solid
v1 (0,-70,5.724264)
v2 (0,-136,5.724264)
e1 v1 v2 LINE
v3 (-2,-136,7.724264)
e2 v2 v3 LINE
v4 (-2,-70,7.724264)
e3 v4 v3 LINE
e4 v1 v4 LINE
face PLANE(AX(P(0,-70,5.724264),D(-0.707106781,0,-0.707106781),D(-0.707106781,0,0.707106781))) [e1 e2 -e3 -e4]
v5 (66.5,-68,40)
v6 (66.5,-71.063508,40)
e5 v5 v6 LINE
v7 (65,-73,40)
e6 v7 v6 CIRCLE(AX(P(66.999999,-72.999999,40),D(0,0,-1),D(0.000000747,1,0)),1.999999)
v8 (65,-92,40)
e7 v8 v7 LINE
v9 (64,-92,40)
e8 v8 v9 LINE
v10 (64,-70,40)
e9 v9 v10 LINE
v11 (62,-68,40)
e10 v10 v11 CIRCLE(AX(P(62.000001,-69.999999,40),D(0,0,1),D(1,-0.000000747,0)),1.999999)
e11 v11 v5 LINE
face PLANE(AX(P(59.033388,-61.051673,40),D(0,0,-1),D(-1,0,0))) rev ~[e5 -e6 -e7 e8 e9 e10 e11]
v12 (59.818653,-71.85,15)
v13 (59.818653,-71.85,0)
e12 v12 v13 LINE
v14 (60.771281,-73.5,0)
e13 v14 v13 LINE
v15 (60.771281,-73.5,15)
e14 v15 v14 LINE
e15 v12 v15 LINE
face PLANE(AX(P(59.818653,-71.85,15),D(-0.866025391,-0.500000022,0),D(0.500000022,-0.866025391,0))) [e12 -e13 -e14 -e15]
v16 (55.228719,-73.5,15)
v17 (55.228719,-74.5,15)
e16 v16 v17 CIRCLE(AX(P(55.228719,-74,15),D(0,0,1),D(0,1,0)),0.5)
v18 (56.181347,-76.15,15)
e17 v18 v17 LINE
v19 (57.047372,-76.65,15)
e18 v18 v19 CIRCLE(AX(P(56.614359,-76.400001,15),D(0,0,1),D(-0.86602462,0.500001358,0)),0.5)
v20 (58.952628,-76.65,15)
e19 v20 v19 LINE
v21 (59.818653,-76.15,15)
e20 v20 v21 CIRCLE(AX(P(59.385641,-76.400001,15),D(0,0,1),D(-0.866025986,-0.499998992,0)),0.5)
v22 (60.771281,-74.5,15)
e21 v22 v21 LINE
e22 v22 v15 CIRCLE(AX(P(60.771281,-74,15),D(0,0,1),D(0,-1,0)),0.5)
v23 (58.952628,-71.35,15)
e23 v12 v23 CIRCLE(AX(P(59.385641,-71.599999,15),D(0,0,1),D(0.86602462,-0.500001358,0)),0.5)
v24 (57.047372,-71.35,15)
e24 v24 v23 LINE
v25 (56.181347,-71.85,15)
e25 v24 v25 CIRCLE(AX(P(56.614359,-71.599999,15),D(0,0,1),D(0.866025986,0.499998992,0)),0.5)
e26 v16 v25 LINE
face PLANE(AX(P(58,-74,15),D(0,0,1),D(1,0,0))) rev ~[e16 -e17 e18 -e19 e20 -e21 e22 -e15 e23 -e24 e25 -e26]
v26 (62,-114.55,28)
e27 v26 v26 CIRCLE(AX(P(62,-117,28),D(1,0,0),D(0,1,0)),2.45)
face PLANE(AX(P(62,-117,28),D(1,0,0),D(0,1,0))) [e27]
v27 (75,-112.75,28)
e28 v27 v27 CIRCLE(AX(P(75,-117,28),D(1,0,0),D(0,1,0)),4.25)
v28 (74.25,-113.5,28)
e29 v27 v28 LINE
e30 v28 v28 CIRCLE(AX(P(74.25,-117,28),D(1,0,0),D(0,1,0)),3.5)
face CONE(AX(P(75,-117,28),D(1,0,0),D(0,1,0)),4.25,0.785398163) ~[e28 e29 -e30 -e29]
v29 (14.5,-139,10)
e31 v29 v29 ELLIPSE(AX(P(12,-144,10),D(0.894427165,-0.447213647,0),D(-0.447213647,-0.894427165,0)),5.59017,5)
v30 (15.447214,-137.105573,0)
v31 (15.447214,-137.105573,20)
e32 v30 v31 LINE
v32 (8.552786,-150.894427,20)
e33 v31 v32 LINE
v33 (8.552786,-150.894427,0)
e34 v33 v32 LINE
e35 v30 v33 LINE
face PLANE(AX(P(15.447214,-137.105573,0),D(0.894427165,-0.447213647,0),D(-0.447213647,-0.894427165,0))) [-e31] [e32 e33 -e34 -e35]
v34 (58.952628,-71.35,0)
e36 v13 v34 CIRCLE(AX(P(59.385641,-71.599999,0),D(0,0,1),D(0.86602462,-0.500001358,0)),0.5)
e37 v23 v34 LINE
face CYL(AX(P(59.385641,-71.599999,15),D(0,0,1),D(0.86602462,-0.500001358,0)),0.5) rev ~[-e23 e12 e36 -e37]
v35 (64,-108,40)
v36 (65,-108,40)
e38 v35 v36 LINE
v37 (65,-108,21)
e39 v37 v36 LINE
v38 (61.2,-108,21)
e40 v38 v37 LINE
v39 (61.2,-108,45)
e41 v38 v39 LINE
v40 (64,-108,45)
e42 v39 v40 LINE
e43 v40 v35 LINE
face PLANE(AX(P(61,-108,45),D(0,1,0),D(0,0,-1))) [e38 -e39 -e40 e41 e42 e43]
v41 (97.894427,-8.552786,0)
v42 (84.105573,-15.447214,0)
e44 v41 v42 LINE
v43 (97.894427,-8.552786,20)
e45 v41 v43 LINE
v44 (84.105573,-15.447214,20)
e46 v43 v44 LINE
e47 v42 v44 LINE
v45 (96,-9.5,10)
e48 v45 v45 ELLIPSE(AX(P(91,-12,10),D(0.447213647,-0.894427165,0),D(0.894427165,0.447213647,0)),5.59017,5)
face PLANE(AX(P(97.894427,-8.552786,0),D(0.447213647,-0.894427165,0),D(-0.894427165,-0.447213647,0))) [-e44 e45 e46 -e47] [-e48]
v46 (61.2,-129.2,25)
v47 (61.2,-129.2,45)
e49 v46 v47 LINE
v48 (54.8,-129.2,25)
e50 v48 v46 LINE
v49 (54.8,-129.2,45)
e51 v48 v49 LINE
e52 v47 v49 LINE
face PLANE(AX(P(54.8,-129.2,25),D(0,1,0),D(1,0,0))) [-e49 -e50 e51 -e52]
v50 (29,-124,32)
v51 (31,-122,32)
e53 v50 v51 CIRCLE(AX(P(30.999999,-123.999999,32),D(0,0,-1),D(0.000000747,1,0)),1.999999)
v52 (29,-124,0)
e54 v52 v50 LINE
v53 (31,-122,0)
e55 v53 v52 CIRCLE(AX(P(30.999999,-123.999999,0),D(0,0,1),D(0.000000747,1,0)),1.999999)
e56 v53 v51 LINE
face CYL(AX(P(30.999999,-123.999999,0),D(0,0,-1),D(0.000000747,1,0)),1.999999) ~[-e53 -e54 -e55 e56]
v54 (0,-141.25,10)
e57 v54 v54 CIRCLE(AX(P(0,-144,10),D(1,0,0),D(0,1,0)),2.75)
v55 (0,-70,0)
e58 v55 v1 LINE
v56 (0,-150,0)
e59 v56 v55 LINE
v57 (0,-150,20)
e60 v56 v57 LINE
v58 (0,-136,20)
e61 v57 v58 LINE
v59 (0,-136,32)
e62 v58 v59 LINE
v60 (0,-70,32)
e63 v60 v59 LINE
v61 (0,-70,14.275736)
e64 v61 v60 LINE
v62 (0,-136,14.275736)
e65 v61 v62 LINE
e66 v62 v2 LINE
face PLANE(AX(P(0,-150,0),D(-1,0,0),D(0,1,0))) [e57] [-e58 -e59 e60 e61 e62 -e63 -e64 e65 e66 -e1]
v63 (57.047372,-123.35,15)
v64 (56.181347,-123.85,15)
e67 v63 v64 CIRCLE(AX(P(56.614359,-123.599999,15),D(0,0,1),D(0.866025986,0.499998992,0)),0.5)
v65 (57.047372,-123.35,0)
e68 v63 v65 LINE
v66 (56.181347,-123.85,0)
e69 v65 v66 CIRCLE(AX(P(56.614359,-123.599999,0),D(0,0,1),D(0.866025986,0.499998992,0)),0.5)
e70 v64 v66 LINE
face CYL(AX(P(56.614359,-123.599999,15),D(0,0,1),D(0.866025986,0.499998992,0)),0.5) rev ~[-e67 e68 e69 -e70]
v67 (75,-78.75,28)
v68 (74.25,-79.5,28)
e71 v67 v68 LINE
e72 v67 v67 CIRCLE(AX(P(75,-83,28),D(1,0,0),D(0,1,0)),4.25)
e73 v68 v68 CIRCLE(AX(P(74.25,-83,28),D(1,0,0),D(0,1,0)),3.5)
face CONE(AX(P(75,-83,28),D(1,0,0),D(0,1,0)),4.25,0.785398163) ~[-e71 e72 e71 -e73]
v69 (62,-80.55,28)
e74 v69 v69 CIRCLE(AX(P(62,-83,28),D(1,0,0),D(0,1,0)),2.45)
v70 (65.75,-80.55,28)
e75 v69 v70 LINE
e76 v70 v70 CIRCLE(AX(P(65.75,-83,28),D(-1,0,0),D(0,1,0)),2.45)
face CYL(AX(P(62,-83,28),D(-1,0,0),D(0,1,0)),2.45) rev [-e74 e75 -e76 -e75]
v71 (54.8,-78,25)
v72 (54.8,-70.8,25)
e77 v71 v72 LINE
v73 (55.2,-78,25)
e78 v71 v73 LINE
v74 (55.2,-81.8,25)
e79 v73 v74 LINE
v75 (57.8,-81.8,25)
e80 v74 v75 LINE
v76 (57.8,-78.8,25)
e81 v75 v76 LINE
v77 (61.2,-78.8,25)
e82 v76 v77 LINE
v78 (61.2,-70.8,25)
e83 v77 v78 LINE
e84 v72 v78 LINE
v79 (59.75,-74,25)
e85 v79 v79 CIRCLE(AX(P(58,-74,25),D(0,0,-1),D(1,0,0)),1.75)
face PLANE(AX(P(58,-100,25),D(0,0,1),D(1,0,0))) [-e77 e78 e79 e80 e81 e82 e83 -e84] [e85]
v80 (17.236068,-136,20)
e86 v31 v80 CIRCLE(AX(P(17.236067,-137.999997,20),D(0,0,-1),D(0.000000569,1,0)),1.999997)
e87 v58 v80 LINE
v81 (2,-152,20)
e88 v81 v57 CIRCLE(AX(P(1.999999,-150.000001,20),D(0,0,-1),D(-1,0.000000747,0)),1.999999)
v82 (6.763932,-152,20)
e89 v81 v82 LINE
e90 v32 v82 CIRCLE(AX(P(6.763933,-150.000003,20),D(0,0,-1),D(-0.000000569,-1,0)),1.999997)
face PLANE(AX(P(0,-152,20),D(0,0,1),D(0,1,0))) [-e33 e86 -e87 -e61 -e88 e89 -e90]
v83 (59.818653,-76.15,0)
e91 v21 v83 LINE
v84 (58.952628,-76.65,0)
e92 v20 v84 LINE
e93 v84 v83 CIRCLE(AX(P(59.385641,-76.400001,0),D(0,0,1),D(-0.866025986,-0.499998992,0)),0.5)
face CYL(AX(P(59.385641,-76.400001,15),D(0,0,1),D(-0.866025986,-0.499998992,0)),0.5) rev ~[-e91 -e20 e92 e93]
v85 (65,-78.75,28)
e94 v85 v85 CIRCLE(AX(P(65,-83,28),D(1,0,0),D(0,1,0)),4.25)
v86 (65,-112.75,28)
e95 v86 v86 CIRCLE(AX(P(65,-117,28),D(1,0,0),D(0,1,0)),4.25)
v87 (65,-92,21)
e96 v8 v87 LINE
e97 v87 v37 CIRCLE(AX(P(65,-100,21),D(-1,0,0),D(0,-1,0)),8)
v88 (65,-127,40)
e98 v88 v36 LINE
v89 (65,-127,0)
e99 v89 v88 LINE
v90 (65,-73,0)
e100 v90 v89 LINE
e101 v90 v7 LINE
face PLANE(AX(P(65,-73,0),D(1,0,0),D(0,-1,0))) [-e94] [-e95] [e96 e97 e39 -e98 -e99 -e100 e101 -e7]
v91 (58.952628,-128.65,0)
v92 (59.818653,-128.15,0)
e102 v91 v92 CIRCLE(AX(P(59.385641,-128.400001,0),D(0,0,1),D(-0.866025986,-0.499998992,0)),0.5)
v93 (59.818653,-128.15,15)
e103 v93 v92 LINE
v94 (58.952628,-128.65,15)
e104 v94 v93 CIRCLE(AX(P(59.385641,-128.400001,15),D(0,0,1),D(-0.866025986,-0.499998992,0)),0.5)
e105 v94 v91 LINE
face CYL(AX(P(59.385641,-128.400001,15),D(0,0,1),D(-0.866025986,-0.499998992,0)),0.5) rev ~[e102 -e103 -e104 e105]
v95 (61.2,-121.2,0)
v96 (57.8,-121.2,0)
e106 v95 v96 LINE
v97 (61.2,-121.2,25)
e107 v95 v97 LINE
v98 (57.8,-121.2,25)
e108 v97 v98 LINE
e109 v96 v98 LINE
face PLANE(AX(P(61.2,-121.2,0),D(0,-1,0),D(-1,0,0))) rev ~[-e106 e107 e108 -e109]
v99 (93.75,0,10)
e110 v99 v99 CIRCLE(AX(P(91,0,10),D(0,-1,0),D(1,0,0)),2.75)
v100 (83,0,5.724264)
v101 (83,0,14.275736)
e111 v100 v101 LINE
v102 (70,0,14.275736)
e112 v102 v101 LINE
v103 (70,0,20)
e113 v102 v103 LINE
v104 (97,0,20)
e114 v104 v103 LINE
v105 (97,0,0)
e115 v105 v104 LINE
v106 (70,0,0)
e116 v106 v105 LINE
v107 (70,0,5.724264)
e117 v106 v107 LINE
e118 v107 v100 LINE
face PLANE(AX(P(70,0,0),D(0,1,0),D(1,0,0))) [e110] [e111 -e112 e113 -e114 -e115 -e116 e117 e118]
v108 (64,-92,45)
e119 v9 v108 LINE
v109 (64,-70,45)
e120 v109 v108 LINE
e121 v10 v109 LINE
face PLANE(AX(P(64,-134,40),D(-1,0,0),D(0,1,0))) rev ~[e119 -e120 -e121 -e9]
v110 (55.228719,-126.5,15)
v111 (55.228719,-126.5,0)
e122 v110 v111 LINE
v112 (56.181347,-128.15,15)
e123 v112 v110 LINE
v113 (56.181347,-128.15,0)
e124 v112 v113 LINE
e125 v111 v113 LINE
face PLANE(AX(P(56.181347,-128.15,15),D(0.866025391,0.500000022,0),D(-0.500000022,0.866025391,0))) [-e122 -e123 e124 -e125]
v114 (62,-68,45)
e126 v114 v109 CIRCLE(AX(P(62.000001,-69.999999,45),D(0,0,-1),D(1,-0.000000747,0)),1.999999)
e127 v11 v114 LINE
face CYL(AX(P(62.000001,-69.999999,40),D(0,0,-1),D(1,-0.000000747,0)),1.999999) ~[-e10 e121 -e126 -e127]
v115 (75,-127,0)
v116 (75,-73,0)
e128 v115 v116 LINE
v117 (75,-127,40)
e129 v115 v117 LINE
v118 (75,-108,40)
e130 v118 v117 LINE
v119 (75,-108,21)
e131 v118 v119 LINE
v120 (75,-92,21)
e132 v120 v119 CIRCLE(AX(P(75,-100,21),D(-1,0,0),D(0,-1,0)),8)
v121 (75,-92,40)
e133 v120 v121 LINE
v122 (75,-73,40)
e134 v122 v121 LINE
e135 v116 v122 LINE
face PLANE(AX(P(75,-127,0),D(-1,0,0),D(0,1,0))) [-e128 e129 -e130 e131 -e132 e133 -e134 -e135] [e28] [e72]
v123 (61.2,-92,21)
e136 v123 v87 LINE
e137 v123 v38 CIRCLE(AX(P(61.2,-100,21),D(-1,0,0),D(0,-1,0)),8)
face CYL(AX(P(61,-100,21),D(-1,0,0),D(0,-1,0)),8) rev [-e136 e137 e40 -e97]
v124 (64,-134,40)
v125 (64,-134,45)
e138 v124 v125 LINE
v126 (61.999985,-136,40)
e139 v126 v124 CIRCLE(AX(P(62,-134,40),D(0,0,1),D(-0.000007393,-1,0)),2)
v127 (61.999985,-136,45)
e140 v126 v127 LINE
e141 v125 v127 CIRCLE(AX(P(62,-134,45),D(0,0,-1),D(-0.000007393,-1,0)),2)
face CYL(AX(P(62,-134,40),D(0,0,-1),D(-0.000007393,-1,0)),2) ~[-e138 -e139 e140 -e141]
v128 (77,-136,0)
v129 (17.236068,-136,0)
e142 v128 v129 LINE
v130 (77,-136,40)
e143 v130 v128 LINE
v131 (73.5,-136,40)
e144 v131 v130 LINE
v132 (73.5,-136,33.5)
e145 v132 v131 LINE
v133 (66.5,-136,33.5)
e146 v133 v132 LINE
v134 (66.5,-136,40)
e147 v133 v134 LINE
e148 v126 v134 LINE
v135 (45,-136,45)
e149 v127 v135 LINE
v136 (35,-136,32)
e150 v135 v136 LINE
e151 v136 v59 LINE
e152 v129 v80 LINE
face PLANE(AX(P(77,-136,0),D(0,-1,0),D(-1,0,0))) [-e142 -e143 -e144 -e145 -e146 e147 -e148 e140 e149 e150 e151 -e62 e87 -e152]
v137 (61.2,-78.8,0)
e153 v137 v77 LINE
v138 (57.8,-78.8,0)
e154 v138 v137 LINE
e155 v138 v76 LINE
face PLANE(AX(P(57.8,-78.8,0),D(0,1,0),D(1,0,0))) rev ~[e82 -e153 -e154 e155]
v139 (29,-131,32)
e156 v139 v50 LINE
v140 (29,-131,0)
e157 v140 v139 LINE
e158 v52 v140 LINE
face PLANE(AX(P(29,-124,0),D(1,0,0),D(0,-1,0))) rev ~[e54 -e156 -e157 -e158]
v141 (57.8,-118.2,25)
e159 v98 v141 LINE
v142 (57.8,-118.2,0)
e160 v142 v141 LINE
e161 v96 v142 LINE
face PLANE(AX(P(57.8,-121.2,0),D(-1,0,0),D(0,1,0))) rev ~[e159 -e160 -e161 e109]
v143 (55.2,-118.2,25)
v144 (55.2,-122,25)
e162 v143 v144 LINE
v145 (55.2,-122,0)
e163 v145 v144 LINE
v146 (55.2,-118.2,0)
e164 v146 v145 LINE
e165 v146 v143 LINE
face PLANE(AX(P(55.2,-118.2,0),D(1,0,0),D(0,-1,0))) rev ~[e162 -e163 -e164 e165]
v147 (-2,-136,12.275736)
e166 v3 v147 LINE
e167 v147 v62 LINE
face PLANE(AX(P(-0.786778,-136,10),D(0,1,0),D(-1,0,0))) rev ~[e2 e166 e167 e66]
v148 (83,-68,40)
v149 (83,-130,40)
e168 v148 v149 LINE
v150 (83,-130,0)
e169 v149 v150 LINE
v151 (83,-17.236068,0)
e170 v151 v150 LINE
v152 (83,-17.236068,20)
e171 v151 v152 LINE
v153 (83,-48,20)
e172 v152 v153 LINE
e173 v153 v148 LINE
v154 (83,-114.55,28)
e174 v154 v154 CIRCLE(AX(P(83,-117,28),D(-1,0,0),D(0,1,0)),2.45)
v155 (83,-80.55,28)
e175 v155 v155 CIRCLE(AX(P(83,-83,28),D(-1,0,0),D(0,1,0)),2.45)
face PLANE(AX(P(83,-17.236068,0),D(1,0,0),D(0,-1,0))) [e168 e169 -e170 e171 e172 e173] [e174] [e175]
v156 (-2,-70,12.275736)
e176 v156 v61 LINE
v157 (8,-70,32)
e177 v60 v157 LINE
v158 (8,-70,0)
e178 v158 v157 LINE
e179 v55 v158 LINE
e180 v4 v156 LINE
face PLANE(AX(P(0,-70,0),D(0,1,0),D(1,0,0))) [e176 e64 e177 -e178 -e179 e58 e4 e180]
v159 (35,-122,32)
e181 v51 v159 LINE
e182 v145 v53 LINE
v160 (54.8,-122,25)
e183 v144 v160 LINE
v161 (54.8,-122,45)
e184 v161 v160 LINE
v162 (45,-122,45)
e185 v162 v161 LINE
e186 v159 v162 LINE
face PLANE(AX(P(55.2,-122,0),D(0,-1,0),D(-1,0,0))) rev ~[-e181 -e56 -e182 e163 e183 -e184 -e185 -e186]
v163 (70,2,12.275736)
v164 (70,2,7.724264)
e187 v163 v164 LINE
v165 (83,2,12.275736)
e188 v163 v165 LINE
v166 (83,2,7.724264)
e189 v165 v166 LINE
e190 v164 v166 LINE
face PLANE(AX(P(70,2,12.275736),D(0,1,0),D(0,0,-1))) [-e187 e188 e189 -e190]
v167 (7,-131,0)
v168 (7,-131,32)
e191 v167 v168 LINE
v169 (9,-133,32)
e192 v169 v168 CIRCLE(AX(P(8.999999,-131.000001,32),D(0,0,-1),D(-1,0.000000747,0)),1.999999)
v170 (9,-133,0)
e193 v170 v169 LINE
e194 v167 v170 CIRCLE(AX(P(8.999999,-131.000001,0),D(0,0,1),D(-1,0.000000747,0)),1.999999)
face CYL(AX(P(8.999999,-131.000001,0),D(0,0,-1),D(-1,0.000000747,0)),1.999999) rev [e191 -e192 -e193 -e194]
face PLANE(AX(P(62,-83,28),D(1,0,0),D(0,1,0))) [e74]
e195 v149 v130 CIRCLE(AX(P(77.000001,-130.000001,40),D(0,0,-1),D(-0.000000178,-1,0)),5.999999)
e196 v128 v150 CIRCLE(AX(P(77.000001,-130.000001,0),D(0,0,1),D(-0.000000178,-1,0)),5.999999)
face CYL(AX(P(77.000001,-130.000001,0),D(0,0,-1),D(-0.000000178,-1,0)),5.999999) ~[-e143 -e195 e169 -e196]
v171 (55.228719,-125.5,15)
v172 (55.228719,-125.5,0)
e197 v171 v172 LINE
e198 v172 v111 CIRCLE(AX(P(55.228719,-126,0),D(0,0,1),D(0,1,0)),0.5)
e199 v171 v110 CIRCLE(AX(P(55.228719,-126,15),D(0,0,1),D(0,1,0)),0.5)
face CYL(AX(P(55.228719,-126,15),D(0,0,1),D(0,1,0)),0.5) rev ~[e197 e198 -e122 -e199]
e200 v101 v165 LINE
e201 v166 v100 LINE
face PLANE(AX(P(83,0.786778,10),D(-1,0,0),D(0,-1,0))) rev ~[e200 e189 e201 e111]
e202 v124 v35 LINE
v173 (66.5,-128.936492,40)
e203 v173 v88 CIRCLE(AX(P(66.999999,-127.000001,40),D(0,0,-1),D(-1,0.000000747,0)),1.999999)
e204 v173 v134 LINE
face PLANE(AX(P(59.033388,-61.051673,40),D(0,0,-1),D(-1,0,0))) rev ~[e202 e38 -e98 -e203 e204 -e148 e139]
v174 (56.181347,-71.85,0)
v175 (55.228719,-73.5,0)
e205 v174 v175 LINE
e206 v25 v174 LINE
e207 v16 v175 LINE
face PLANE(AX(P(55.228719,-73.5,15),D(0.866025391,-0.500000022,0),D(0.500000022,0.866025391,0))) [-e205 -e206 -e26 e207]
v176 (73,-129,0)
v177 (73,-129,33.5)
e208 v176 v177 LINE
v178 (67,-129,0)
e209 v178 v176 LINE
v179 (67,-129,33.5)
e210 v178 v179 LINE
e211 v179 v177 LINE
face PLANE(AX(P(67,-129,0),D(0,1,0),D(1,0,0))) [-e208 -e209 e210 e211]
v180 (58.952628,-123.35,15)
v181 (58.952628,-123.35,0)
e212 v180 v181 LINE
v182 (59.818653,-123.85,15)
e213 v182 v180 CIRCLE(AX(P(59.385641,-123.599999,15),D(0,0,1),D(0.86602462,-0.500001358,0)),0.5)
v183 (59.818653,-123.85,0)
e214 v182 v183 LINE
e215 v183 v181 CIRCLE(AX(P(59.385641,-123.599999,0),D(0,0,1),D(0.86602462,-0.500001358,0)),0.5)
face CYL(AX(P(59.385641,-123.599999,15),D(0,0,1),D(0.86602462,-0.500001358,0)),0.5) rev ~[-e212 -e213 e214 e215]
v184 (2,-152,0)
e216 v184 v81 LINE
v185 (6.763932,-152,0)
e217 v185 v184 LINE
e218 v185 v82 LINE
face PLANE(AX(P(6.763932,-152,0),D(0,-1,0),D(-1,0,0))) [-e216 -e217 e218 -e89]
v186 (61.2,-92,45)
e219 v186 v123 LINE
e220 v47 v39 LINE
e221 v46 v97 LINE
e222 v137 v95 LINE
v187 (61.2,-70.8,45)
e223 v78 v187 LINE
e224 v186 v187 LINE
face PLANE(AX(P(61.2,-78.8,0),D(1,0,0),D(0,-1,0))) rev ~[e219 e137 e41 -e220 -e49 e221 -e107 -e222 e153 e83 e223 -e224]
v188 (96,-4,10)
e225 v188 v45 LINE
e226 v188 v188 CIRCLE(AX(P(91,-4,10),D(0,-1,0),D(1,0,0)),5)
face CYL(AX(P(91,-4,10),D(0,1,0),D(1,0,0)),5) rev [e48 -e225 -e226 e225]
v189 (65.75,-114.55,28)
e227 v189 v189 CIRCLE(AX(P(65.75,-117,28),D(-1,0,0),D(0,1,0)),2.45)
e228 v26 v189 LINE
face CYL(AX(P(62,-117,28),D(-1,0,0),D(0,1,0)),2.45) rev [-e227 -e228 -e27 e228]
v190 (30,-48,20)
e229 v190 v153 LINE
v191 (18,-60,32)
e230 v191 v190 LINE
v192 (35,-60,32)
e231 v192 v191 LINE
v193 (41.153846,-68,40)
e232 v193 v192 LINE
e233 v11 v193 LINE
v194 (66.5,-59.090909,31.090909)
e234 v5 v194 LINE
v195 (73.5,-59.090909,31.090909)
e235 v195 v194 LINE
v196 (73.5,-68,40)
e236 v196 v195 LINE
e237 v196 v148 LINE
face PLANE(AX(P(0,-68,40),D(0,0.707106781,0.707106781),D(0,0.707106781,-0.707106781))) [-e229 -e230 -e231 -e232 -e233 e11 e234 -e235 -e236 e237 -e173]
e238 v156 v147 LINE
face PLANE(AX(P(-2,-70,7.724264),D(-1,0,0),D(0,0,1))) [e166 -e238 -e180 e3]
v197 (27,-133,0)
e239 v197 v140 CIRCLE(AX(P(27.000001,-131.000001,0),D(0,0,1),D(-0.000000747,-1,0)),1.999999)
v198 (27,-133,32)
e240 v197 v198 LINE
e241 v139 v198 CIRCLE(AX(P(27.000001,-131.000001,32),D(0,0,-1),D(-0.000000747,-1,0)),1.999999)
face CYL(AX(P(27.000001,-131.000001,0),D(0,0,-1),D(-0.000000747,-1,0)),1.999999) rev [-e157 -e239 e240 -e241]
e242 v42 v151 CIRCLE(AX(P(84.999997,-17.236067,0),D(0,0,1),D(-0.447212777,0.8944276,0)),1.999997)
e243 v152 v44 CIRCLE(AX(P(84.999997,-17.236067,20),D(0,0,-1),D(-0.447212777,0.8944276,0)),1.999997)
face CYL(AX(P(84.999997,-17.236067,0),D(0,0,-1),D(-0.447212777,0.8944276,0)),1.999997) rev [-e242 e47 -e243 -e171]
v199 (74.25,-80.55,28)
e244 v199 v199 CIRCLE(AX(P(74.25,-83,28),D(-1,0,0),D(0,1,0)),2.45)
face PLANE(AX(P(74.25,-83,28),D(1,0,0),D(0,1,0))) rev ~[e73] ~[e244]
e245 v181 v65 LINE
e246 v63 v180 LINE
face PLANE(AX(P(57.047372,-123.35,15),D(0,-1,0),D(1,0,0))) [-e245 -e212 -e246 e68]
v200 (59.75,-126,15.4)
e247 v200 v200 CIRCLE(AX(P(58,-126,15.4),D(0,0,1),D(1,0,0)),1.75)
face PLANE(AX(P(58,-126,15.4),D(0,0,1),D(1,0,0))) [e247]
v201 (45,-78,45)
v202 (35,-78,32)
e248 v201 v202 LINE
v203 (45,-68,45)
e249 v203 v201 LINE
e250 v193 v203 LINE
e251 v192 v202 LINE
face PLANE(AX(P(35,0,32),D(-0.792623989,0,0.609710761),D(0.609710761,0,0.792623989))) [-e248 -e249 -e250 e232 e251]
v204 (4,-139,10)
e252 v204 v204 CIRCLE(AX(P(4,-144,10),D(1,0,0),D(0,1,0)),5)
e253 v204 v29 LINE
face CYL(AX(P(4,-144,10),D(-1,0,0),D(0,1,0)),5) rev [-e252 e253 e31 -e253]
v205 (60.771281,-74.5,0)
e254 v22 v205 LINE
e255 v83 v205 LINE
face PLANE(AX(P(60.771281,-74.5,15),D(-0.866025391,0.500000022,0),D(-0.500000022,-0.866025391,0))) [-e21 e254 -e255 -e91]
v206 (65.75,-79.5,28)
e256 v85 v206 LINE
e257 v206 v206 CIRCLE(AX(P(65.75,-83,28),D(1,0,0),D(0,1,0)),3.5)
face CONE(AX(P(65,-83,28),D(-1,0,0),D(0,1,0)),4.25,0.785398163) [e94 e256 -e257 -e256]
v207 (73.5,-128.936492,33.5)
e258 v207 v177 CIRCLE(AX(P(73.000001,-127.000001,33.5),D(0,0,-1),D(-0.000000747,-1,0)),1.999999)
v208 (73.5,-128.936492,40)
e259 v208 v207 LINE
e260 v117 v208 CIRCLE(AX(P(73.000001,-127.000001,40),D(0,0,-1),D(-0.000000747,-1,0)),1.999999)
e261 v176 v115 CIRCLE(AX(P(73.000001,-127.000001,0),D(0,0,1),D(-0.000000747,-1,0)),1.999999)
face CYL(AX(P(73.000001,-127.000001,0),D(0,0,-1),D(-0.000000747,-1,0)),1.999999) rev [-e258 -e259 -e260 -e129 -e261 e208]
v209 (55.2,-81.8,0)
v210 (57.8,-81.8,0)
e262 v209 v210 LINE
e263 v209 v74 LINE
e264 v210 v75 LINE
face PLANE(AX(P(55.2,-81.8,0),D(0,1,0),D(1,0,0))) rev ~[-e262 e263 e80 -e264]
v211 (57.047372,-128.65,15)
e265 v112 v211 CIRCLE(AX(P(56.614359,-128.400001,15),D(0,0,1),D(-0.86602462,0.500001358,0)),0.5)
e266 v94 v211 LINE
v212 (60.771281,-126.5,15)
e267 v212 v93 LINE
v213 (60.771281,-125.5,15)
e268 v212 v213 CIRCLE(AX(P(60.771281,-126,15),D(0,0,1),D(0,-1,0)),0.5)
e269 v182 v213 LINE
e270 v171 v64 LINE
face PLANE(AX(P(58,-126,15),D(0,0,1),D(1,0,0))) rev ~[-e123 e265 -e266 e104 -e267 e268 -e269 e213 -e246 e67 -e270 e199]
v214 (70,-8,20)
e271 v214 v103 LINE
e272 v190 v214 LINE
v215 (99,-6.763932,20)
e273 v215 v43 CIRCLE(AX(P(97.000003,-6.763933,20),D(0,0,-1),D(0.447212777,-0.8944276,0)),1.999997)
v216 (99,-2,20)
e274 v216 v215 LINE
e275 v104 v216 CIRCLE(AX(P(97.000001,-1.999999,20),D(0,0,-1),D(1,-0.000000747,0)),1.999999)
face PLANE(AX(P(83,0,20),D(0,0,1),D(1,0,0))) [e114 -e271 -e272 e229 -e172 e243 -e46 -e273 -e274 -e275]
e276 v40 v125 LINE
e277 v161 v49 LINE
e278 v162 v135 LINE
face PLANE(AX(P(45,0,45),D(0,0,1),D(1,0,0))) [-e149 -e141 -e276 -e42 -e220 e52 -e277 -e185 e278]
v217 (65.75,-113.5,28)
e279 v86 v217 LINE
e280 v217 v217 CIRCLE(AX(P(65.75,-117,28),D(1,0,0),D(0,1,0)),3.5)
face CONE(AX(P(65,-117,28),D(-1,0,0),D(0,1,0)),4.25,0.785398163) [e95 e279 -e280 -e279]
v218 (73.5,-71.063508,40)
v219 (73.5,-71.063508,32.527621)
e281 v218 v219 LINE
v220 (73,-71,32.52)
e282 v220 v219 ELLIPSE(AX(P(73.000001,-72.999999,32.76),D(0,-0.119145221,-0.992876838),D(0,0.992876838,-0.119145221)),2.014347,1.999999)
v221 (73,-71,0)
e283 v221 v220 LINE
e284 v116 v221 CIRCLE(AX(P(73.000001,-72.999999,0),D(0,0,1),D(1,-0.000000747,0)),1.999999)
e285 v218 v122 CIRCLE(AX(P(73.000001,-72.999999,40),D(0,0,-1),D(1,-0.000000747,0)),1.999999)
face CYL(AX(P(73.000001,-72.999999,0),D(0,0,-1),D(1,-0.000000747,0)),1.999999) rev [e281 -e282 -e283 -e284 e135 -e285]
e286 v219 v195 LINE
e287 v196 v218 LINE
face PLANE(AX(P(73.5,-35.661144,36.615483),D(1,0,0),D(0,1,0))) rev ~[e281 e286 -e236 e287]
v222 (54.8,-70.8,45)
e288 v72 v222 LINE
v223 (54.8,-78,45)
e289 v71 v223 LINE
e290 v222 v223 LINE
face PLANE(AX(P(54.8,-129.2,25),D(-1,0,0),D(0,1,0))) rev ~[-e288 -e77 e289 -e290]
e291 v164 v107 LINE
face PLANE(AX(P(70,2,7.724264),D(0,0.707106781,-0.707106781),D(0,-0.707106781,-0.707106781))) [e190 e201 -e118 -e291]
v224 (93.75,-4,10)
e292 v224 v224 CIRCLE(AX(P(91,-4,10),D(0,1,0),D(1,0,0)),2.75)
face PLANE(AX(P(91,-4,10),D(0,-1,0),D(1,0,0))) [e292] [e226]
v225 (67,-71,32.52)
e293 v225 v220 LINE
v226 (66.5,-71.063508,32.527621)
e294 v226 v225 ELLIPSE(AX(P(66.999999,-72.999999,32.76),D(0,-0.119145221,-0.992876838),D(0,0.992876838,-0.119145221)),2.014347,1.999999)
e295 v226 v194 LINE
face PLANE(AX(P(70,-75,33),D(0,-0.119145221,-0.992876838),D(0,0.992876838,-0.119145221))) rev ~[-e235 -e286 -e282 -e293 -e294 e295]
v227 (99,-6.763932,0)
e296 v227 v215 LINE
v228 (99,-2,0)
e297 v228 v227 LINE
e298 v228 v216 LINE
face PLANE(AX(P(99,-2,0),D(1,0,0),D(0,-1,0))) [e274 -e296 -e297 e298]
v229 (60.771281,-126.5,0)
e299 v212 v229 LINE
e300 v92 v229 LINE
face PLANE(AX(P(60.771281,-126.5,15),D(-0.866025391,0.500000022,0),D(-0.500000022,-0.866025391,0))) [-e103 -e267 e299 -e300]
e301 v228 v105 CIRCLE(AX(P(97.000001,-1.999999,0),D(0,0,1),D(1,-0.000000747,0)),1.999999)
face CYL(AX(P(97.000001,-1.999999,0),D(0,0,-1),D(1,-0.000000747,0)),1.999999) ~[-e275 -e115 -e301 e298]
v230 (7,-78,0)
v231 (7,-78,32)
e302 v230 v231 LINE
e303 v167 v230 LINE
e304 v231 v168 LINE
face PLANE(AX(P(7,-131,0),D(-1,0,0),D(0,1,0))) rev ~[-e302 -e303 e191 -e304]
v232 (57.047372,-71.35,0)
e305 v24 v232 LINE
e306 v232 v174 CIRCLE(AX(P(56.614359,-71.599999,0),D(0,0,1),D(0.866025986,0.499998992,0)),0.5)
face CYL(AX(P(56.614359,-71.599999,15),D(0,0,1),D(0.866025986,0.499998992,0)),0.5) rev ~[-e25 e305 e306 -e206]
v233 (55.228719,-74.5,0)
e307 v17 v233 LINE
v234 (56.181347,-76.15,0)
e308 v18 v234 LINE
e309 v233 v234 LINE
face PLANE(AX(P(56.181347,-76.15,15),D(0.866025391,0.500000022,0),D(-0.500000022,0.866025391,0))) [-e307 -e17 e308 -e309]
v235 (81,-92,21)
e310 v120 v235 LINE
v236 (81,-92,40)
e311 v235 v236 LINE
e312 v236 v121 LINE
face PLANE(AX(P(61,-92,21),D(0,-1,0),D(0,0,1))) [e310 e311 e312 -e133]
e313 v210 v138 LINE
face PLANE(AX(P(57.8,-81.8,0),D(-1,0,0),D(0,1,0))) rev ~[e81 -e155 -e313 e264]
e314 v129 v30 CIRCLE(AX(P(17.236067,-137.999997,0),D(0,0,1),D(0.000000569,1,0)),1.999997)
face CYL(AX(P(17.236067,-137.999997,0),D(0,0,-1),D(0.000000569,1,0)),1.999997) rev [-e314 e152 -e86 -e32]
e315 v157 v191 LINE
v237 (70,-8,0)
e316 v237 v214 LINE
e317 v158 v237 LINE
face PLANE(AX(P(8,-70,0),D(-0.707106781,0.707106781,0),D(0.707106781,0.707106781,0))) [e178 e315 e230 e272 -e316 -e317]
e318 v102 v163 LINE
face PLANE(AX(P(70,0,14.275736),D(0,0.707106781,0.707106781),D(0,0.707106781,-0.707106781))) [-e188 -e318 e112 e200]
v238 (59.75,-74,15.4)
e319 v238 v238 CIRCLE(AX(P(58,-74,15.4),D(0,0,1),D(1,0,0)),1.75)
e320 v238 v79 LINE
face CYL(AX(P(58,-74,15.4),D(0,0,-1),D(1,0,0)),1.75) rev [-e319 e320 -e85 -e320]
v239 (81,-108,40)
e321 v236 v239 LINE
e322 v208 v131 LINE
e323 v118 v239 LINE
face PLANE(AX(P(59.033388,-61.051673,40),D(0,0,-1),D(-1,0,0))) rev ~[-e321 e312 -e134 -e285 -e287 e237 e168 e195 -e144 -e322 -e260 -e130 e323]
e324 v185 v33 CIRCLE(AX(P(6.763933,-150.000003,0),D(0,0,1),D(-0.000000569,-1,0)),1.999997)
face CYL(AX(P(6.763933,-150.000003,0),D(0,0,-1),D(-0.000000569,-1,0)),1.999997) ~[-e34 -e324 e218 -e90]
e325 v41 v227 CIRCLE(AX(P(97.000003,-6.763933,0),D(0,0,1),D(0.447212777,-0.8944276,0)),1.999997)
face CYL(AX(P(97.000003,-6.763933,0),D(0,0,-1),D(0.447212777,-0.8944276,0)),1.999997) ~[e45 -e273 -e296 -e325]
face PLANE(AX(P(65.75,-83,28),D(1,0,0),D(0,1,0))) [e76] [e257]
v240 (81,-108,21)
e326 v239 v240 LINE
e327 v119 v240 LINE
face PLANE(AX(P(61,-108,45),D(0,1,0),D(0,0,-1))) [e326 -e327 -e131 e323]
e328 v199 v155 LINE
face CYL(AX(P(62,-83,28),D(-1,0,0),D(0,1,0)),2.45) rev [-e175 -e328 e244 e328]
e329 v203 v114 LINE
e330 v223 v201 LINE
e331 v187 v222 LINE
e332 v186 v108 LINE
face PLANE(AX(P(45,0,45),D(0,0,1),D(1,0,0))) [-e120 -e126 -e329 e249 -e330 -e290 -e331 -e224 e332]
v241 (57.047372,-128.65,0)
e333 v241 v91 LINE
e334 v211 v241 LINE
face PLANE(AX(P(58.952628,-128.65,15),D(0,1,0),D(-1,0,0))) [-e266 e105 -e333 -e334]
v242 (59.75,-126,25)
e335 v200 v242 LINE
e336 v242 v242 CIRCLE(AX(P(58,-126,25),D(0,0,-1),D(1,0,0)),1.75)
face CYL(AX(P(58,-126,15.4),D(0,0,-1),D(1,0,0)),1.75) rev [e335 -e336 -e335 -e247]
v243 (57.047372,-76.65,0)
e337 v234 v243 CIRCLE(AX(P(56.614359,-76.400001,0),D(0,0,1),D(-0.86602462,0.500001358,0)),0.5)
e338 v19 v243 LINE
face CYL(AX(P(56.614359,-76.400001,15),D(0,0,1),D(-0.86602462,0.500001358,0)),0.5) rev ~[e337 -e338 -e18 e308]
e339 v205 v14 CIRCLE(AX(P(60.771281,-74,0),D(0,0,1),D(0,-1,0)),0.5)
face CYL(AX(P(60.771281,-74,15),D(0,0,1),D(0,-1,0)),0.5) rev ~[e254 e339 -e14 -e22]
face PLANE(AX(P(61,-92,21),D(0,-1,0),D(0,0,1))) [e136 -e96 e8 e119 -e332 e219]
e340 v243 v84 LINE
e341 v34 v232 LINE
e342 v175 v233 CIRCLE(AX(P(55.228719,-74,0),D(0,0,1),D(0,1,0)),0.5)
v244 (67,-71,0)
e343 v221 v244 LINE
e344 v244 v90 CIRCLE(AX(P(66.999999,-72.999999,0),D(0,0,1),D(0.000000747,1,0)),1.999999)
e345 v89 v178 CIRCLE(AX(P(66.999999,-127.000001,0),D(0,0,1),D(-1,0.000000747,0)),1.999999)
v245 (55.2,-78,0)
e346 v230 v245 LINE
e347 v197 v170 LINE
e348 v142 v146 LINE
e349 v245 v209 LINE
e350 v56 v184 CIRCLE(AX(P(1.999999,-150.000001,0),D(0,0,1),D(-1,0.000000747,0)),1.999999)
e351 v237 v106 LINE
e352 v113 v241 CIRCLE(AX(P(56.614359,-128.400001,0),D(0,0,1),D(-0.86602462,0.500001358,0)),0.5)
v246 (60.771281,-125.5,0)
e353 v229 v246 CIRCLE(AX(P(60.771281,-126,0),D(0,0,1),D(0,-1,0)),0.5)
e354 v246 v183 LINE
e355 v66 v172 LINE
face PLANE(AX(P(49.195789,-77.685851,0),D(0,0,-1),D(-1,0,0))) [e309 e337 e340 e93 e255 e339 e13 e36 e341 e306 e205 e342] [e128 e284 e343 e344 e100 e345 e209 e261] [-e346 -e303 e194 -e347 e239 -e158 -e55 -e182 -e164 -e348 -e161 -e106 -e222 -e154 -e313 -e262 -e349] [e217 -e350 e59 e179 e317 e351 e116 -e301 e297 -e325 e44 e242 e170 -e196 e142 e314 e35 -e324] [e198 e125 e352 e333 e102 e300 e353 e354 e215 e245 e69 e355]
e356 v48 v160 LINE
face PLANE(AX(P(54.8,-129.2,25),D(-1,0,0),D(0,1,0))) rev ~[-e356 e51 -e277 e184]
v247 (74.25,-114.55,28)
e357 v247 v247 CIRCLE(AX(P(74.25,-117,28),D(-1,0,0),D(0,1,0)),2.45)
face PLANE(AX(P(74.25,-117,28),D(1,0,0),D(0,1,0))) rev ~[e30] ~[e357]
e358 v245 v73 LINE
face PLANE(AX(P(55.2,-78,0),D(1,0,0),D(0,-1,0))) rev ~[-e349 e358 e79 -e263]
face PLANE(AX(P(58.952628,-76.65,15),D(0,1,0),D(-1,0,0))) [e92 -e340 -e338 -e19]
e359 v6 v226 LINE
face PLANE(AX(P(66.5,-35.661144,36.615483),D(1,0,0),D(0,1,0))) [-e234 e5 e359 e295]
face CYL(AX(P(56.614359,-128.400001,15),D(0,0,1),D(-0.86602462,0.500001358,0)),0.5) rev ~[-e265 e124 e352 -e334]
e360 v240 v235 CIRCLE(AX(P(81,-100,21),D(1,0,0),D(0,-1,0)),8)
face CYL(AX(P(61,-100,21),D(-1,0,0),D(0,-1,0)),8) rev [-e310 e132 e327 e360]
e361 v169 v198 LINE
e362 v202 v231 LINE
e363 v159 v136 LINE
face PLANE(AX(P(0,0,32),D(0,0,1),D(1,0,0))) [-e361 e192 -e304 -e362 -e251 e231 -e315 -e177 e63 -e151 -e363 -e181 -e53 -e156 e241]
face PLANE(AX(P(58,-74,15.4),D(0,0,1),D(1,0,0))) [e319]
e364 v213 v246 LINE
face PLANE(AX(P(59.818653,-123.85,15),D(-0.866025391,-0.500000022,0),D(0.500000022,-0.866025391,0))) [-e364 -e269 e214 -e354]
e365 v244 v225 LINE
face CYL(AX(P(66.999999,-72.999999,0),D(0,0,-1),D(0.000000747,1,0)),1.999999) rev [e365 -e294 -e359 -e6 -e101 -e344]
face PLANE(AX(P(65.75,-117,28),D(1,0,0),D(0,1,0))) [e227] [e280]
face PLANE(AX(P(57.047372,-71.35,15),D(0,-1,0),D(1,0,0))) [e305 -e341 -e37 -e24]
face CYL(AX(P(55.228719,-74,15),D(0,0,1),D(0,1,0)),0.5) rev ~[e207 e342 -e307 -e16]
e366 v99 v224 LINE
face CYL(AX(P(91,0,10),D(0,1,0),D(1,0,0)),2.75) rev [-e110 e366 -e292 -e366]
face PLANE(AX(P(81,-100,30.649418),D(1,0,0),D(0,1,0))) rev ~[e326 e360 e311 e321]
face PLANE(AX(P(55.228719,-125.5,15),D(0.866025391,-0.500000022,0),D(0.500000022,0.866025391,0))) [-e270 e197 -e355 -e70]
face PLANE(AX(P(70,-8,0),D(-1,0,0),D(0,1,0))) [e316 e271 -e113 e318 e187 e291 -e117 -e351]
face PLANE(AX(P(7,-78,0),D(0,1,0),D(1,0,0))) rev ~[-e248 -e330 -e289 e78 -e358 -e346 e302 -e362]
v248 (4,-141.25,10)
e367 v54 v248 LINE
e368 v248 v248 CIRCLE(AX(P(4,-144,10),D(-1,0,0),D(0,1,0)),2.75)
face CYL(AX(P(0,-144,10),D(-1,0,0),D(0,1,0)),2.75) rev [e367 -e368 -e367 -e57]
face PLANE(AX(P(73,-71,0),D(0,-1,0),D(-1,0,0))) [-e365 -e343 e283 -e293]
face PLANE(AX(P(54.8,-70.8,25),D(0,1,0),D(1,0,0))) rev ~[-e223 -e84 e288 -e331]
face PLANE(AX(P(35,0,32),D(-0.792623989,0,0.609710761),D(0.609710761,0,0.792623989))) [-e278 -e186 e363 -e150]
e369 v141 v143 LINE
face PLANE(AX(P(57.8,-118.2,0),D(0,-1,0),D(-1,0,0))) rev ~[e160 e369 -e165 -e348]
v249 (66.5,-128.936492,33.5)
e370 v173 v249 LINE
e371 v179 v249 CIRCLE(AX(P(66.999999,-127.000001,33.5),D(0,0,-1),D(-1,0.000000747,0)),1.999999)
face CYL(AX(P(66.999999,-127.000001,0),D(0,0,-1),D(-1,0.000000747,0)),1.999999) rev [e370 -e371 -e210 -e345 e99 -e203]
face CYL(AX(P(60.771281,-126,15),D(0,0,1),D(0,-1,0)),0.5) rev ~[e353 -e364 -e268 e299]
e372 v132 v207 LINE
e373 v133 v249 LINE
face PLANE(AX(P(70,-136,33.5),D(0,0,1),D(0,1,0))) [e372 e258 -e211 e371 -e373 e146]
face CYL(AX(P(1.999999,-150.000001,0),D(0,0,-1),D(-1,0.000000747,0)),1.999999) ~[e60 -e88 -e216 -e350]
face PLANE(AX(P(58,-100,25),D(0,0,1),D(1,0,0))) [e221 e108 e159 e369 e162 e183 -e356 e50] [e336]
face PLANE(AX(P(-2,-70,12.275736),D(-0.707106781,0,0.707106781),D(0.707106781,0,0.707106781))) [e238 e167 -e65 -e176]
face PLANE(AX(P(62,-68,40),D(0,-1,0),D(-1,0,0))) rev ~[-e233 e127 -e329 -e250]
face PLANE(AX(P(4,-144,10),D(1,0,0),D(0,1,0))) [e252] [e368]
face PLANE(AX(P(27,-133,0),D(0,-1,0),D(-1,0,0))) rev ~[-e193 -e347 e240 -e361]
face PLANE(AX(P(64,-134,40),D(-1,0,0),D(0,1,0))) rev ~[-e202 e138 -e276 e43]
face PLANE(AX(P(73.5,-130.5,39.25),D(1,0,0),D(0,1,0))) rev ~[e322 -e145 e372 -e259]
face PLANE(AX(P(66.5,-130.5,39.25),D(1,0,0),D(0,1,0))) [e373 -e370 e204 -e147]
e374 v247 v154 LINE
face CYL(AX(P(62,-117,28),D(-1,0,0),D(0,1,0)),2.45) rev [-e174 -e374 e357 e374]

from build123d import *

# Parameters (mm, degrees)
PAD049_DEPTH           = 50
SKETCH170_R            = 2.75
POCKET_DEPTH           = 152.001
SKETCH171_R            = 2.75
SKETCH171_W            = 16
SKETCH171_H            = 12
POCKET131_DEPTH        = 99.001
POCKET132_DEPTH        = 5.001
POCKET133_DEPTH        = 0.001
POCKET133_DEPTH_BACK   = 45.001
SKETCH187_W            = 6.4
SKETCH187_H            = 58.4
POCKET134_DEPTH        = 20.001
SKETCH197_R            = 5
POCKET135_DEPTH        = 95.001
POCKET136_DEPTH        = 20
SKETCH198_R            = 5
POCKET137_DEPTH        = 148.001
SKETCH189_R            = 1.75
POCKET138_DEPTH        = 29.601
POCKET139_DEPTH        = 15.001
LINEARPATTERN_COUNT    = 2
LINEARPATTERN_PITCH    = 52
LINEARPATTERN001_COUNT = 2
LINEARPATTERN001_PITCH = 34
SKETCH185_R            = 2.45
POCKET140_DEPTH        = 37.001
PAD_START              = 70
PAD_DEPTH              = 66
PAD053_START           = 70
PAD053_DEPTH           = 13
POCKET141_DEPTH        = 2.001
POCKET141_DEPTH_BACK   = 99.001
SKETCH173_W            = 11
SKETCH173_H            = 11.5
POCKET142_DEPTH        = 3.5


with BuildPart() as part:
    # Sketch169 → Pad049 (new body)
    with BuildSketch(Plane.XY):
        with BuildLine():
            Line((97.894427, -8.552786), (84.105573, -15.447214))
            ThreePointArc((84.105573, -15.447214), (83.298698, -16.184606), (83, -17.236068))
            Line((83, -17.236068), (83, -130))
            ThreePointArc((77, -136), (81.242641, -134.242641), (83, -130))
            Line((77, -136), (17.236068, -136))
            ThreePointArc((17.236068, -136), (16.184606, -136.298698), (15.447214, -137.105573))
            Line((15.447214, -137.105573), (8.552786, -150.894427))
            ThreePointArc((6.763932, -152), (7.815394, -151.701302), (8.552786, -150.894427))
            Line((6.763932, -152), (2, -152))
            ThreePointArc((0, -150), (0.585786, -151.414214), (2, -152))
            Line((0, -150), (0, -70))
            Line((0, -70), (8, -70))
            Line((8, -70), (70, -8))
            Line((70, -8), (70, 0))
            Line((70, 0), (97, 0))
            ThreePointArc((99, -2), (98.414214, -0.585786), (97, 0))
            Line((99, -2), (99, -6.763932))
            ThreePointArc((97.894427, -8.552786), (98.701302, -7.815394), (99, -6.763932))
        make_face()
        with BuildLine():
            Line((65, -73), (65, -127))
            ThreePointArc((65, -127), (65.585786, -128.414214), (67, -129))
            Line((67, -129), (73, -129))
            ThreePointArc((73, -129), (74.414214, -128.414214), (75, -127))
            Line((75, -127), (75, -73))
            ThreePointArc((75, -73), (74.414214, -71.585786), (73, -71))
            Line((73, -71), (67, -71))
            ThreePointArc((67, -71), (65.585786, -71.585786), (65, -73))
        make_face(mode=Mode.SUBTRACT)
    extrude(amount=PAD049_DEPTH)

    # Sketch170 → Pocket (cut, through all)
    with BuildSketch(Plane.XZ):
        with Locations((91, 10)):
            Circle(SKETCH170_R)
        Polygon((0, 32), (35, 32), (45, 45), (83, 45), (83, 20), (99, 20), (99, 50), (0, 50), align=None)
    extrude(amount=POCKET_DEPTH, mode=Mode.SUBTRACT)

    # Sketch171 → Pocket131 (cut, through all)
    with BuildSketch(Plane.YZ):
        with Locations((-144, 10)):
            Circle(SKETCH171_R)
        with Locations((-144, 26)):
            Rectangle(SKETCH171_W, SKETCH171_H)
    extrude(amount=POCKET131_DEPTH, mode=Mode.SUBTRACT)

    # Sketch175 → Pocket132 (cut, through all)
    with BuildSketch(Plane.XY.offset(40)):
        with BuildLine():
            Line((83, 0), (83, -136))
            Line((61.999985, -136), (83, -136))
            ThreePointArc((61.999985, -136), (63.414208, -135.414219), (64, -134))
            Line((64, -134), (64, -70))
            ThreePointArc((64, -70), (63.414214, -68.585786), (62, -68))
            Line((62, -68), (20, -68))
            Line((20, 0), (20, -68))
            Line((83, 0), (20, 0))
        make_face()
    extrude(amount=POCKET132_DEPTH, mode=Mode.SUBTRACT)

    # Sketch186 → Pocket133 (cut, two sides)
    with BuildSketch(Plane.XY) as pocket133_sk:
        with BuildLine():
            Line((7, -78), (55.2, -78))
            Line((55.2, -78), (55.2, -81.8))
            Line((55.2, -81.8), (57.8, -81.8))
            Line((57.8, -81.8), (57.8, -78.8))
            Line((57.8, -78.8), (61.2, -78.8))
            Line((61.2, -78.8), (61.2, -121.2))
            Line((61.2, -121.2), (57.8, -121.2))
            Line((57.8, -121.2), (57.8, -118.2))
            Line((57.8, -118.2), (55.2, -118.2))
            Line((55.2, -118.2), (55.2, -122))
            Line((55.2, -122), (31, -122))
            ThreePointArc((31, -122), (29.585786, -122.585786), (29, -124))
            Line((29, -124), (29, -131))
            ThreePointArc((27, -133), (28.414214, -132.414214), (29, -131))
            Line((27, -133), (9, -133))
            ThreePointArc((7, -131), (7.585786, -132.414214), (9, -133))
            Line((7, -131), (7, -122))
            Line((7, -122), (7, -78))
        make_face()
    extrude(amount=-POCKET133_DEPTH, mode=Mode.SUBTRACT)
    extrude(pocket133_sk.sketch, amount=POCKET133_DEPTH_BACK, mode=Mode.SUBTRACT)

    # Sketch187 → Pocket134 (cut, through all)
    with BuildSketch(Plane.XY.offset(25)):
        with Locations((58, -100)):
            Rectangle(SKETCH187_W, SKETCH187_H)
    extrude(amount=POCKET134_DEPTH, mode=Mode.SUBTRACT)

    # Sketch197 → Pocket135 (cut, through all)
    with BuildSketch(Plane.YZ.offset(4)):
        with Locations((-144, 10)):
            Circle(SKETCH197_R)
    extrude(amount=POCKET135_DEPTH, mode=Mode.SUBTRACT)

    # Sketch191 → Pocket136 (cut)
    with BuildSketch(Plane.YZ.offset(61)):
        with BuildLine():
            ThreePointArc((-108, 21), (-100, 13), (-92, 21))
            Line((-92, 21), (-92, 45))
            Line((-108, 45), (-92, 45))
            Line((-108, 45), (-108, 21))
        make_face()
    extrude(amount=POCKET136_DEPTH, mode=Mode.SUBTRACT)

    # Sketch198 → Pocket137 (cut, through all)
    with BuildSketch(Plane.XZ.offset(4)):
        with Locations((91, 10)):
            Circle(SKETCH198_R)
    extrude(amount=POCKET137_DEPTH, mode=Mode.SUBTRACT)

    # Sketch189 → Pocket138 (cut, through all)
    with BuildSketch(Plane.XY.offset(15.4)):
        with Locations((58, -74)):
            Circle(SKETCH189_R)
        with Locations((58, -126)):
            Circle(SKETCH189_R)
    extrude(amount=POCKET138_DEPTH, mode=Mode.SUBTRACT)

    # Sketch190 → Pocket139 (cut, through all)
    with BuildSketch(Plane.XY.offset(15)):
        with BuildLine():
            ThreePointArc((57.047372, -71.35), (56.364359, -71.166987), (56.181347, -71.85))
            Line((55.228719, -73.5), (56.181347, -71.85))
            ThreePointArc((55.228719, -73.5), (54.728719, -74), (55.228719, -74.5))
            Line((56.181347, -76.15), (55.228719, -74.5))
            ThreePointArc((56.181347, -76.15), (56.364359, -76.833013), (57.047372, -76.65))
            Line((58.952628, -76.65), (57.047372, -76.65))
            ThreePointArc((58.952628, -76.65), (59.635641, -76.833013), (59.818653, -76.15))
            Line((60.771281, -74.5), (59.818653, -76.15))
            ThreePointArc((60.771281, -74.5), (61.271281, -74), (60.771281, -73.5))
            Line((59.818653, -71.85), (60.771281, -73.5))
            ThreePointArc((59.818653, -71.85), (59.635641, -71.166987), (58.952628, -71.35))
            Line((57.047372, -71.35), (58.952628, -71.35))
        make_face()
    pocket139 = extrude(amount=-POCKET139_DEPTH, mode=Mode.SUBTRACT)

    # LinearPattern: Pocket139 ×2
    with Locations(*[(0, -i * LINEARPATTERN_PITCH, 0) for i in range(1, LINEARPATTERN_COUNT)]):
        add(pocket139, mode=Mode.SUBTRACT)

    # Sketch364 → Revolution (revolve)
    with BuildSketch(Plane.XY.offset(28)):
        Polygon((75, -78.75), (74.25, -79.5), (74.25, -83), (75, -83), align=None)
        Polygon((65, -78.75), (65.75, -79.5), (65.75, -83), (65, -83), align=None)
    revolution = revolve(axis=Axis((74.25, -83, 28), (1, 0, 0)))

    # LinearPattern001: Revolution ×2
    with Locations(*[(0, -i * LINEARPATTERN001_PITCH, 0) for i in range(1, LINEARPATTERN001_COUNT)]):
        add(revolution)

    # Sketch185 → Pocket140 (cut, through all)
    with BuildSketch(Plane.YZ.offset(62)):
        with Locations((-83, 28)):
            Circle(SKETCH185_R)
        with Locations((-117, 28)):
            Circle(SKETCH185_R)
    extrude(amount=POCKET140_DEPTH, mode=Mode.SUBTRACT)

    # Sketch367 → Pad (join)
    with BuildSketch(Plane.XZ.offset(PAD_START)):
        Polygon((0, 14.275736), (0, 5.724264), (-2, 7.724264), (-2, 12.275736), align=None)
    extrude(amount=PAD_DEPTH)

    # Sketch368 → Pad053 (join)
    with BuildSketch(Plane.YZ.offset(PAD053_START)):
        Polygon((0, 14.275736), (2, 12.275736), (2, 7.724264), (0, 5.724264), align=None)
    extrude(amount=PAD053_DEPTH)

    # Sketch → Pocket141 (cut, two sides)
    with BuildSketch(Plane.YZ) as pocket141_sk:
        Polygon((-68, 40), (-48, 20), (0, 20), (0, 40), align=None)
    extrude(amount=-POCKET141_DEPTH, mode=Mode.SUBTRACT)
    extrude(pocket141_sk.sketch, amount=POCKET141_DEPTH_BACK, mode=Mode.SUBTRACT)

    # Sketch173 → Pocket142 (cut, symmetric)
    with BuildSketch(Plane.YZ.offset(70)):
        with Locations((-130.5, 39.25)):
            Rectangle(SKETCH173_W, SKETCH173_H)
        Polygon((0, 24), (0, 45), (-75, 45), (-75, 33), align=None)
    extrude(amount=POCKET142_DEPTH, both=True, mode=Mode.SUBTRACT)


solid = part.part
